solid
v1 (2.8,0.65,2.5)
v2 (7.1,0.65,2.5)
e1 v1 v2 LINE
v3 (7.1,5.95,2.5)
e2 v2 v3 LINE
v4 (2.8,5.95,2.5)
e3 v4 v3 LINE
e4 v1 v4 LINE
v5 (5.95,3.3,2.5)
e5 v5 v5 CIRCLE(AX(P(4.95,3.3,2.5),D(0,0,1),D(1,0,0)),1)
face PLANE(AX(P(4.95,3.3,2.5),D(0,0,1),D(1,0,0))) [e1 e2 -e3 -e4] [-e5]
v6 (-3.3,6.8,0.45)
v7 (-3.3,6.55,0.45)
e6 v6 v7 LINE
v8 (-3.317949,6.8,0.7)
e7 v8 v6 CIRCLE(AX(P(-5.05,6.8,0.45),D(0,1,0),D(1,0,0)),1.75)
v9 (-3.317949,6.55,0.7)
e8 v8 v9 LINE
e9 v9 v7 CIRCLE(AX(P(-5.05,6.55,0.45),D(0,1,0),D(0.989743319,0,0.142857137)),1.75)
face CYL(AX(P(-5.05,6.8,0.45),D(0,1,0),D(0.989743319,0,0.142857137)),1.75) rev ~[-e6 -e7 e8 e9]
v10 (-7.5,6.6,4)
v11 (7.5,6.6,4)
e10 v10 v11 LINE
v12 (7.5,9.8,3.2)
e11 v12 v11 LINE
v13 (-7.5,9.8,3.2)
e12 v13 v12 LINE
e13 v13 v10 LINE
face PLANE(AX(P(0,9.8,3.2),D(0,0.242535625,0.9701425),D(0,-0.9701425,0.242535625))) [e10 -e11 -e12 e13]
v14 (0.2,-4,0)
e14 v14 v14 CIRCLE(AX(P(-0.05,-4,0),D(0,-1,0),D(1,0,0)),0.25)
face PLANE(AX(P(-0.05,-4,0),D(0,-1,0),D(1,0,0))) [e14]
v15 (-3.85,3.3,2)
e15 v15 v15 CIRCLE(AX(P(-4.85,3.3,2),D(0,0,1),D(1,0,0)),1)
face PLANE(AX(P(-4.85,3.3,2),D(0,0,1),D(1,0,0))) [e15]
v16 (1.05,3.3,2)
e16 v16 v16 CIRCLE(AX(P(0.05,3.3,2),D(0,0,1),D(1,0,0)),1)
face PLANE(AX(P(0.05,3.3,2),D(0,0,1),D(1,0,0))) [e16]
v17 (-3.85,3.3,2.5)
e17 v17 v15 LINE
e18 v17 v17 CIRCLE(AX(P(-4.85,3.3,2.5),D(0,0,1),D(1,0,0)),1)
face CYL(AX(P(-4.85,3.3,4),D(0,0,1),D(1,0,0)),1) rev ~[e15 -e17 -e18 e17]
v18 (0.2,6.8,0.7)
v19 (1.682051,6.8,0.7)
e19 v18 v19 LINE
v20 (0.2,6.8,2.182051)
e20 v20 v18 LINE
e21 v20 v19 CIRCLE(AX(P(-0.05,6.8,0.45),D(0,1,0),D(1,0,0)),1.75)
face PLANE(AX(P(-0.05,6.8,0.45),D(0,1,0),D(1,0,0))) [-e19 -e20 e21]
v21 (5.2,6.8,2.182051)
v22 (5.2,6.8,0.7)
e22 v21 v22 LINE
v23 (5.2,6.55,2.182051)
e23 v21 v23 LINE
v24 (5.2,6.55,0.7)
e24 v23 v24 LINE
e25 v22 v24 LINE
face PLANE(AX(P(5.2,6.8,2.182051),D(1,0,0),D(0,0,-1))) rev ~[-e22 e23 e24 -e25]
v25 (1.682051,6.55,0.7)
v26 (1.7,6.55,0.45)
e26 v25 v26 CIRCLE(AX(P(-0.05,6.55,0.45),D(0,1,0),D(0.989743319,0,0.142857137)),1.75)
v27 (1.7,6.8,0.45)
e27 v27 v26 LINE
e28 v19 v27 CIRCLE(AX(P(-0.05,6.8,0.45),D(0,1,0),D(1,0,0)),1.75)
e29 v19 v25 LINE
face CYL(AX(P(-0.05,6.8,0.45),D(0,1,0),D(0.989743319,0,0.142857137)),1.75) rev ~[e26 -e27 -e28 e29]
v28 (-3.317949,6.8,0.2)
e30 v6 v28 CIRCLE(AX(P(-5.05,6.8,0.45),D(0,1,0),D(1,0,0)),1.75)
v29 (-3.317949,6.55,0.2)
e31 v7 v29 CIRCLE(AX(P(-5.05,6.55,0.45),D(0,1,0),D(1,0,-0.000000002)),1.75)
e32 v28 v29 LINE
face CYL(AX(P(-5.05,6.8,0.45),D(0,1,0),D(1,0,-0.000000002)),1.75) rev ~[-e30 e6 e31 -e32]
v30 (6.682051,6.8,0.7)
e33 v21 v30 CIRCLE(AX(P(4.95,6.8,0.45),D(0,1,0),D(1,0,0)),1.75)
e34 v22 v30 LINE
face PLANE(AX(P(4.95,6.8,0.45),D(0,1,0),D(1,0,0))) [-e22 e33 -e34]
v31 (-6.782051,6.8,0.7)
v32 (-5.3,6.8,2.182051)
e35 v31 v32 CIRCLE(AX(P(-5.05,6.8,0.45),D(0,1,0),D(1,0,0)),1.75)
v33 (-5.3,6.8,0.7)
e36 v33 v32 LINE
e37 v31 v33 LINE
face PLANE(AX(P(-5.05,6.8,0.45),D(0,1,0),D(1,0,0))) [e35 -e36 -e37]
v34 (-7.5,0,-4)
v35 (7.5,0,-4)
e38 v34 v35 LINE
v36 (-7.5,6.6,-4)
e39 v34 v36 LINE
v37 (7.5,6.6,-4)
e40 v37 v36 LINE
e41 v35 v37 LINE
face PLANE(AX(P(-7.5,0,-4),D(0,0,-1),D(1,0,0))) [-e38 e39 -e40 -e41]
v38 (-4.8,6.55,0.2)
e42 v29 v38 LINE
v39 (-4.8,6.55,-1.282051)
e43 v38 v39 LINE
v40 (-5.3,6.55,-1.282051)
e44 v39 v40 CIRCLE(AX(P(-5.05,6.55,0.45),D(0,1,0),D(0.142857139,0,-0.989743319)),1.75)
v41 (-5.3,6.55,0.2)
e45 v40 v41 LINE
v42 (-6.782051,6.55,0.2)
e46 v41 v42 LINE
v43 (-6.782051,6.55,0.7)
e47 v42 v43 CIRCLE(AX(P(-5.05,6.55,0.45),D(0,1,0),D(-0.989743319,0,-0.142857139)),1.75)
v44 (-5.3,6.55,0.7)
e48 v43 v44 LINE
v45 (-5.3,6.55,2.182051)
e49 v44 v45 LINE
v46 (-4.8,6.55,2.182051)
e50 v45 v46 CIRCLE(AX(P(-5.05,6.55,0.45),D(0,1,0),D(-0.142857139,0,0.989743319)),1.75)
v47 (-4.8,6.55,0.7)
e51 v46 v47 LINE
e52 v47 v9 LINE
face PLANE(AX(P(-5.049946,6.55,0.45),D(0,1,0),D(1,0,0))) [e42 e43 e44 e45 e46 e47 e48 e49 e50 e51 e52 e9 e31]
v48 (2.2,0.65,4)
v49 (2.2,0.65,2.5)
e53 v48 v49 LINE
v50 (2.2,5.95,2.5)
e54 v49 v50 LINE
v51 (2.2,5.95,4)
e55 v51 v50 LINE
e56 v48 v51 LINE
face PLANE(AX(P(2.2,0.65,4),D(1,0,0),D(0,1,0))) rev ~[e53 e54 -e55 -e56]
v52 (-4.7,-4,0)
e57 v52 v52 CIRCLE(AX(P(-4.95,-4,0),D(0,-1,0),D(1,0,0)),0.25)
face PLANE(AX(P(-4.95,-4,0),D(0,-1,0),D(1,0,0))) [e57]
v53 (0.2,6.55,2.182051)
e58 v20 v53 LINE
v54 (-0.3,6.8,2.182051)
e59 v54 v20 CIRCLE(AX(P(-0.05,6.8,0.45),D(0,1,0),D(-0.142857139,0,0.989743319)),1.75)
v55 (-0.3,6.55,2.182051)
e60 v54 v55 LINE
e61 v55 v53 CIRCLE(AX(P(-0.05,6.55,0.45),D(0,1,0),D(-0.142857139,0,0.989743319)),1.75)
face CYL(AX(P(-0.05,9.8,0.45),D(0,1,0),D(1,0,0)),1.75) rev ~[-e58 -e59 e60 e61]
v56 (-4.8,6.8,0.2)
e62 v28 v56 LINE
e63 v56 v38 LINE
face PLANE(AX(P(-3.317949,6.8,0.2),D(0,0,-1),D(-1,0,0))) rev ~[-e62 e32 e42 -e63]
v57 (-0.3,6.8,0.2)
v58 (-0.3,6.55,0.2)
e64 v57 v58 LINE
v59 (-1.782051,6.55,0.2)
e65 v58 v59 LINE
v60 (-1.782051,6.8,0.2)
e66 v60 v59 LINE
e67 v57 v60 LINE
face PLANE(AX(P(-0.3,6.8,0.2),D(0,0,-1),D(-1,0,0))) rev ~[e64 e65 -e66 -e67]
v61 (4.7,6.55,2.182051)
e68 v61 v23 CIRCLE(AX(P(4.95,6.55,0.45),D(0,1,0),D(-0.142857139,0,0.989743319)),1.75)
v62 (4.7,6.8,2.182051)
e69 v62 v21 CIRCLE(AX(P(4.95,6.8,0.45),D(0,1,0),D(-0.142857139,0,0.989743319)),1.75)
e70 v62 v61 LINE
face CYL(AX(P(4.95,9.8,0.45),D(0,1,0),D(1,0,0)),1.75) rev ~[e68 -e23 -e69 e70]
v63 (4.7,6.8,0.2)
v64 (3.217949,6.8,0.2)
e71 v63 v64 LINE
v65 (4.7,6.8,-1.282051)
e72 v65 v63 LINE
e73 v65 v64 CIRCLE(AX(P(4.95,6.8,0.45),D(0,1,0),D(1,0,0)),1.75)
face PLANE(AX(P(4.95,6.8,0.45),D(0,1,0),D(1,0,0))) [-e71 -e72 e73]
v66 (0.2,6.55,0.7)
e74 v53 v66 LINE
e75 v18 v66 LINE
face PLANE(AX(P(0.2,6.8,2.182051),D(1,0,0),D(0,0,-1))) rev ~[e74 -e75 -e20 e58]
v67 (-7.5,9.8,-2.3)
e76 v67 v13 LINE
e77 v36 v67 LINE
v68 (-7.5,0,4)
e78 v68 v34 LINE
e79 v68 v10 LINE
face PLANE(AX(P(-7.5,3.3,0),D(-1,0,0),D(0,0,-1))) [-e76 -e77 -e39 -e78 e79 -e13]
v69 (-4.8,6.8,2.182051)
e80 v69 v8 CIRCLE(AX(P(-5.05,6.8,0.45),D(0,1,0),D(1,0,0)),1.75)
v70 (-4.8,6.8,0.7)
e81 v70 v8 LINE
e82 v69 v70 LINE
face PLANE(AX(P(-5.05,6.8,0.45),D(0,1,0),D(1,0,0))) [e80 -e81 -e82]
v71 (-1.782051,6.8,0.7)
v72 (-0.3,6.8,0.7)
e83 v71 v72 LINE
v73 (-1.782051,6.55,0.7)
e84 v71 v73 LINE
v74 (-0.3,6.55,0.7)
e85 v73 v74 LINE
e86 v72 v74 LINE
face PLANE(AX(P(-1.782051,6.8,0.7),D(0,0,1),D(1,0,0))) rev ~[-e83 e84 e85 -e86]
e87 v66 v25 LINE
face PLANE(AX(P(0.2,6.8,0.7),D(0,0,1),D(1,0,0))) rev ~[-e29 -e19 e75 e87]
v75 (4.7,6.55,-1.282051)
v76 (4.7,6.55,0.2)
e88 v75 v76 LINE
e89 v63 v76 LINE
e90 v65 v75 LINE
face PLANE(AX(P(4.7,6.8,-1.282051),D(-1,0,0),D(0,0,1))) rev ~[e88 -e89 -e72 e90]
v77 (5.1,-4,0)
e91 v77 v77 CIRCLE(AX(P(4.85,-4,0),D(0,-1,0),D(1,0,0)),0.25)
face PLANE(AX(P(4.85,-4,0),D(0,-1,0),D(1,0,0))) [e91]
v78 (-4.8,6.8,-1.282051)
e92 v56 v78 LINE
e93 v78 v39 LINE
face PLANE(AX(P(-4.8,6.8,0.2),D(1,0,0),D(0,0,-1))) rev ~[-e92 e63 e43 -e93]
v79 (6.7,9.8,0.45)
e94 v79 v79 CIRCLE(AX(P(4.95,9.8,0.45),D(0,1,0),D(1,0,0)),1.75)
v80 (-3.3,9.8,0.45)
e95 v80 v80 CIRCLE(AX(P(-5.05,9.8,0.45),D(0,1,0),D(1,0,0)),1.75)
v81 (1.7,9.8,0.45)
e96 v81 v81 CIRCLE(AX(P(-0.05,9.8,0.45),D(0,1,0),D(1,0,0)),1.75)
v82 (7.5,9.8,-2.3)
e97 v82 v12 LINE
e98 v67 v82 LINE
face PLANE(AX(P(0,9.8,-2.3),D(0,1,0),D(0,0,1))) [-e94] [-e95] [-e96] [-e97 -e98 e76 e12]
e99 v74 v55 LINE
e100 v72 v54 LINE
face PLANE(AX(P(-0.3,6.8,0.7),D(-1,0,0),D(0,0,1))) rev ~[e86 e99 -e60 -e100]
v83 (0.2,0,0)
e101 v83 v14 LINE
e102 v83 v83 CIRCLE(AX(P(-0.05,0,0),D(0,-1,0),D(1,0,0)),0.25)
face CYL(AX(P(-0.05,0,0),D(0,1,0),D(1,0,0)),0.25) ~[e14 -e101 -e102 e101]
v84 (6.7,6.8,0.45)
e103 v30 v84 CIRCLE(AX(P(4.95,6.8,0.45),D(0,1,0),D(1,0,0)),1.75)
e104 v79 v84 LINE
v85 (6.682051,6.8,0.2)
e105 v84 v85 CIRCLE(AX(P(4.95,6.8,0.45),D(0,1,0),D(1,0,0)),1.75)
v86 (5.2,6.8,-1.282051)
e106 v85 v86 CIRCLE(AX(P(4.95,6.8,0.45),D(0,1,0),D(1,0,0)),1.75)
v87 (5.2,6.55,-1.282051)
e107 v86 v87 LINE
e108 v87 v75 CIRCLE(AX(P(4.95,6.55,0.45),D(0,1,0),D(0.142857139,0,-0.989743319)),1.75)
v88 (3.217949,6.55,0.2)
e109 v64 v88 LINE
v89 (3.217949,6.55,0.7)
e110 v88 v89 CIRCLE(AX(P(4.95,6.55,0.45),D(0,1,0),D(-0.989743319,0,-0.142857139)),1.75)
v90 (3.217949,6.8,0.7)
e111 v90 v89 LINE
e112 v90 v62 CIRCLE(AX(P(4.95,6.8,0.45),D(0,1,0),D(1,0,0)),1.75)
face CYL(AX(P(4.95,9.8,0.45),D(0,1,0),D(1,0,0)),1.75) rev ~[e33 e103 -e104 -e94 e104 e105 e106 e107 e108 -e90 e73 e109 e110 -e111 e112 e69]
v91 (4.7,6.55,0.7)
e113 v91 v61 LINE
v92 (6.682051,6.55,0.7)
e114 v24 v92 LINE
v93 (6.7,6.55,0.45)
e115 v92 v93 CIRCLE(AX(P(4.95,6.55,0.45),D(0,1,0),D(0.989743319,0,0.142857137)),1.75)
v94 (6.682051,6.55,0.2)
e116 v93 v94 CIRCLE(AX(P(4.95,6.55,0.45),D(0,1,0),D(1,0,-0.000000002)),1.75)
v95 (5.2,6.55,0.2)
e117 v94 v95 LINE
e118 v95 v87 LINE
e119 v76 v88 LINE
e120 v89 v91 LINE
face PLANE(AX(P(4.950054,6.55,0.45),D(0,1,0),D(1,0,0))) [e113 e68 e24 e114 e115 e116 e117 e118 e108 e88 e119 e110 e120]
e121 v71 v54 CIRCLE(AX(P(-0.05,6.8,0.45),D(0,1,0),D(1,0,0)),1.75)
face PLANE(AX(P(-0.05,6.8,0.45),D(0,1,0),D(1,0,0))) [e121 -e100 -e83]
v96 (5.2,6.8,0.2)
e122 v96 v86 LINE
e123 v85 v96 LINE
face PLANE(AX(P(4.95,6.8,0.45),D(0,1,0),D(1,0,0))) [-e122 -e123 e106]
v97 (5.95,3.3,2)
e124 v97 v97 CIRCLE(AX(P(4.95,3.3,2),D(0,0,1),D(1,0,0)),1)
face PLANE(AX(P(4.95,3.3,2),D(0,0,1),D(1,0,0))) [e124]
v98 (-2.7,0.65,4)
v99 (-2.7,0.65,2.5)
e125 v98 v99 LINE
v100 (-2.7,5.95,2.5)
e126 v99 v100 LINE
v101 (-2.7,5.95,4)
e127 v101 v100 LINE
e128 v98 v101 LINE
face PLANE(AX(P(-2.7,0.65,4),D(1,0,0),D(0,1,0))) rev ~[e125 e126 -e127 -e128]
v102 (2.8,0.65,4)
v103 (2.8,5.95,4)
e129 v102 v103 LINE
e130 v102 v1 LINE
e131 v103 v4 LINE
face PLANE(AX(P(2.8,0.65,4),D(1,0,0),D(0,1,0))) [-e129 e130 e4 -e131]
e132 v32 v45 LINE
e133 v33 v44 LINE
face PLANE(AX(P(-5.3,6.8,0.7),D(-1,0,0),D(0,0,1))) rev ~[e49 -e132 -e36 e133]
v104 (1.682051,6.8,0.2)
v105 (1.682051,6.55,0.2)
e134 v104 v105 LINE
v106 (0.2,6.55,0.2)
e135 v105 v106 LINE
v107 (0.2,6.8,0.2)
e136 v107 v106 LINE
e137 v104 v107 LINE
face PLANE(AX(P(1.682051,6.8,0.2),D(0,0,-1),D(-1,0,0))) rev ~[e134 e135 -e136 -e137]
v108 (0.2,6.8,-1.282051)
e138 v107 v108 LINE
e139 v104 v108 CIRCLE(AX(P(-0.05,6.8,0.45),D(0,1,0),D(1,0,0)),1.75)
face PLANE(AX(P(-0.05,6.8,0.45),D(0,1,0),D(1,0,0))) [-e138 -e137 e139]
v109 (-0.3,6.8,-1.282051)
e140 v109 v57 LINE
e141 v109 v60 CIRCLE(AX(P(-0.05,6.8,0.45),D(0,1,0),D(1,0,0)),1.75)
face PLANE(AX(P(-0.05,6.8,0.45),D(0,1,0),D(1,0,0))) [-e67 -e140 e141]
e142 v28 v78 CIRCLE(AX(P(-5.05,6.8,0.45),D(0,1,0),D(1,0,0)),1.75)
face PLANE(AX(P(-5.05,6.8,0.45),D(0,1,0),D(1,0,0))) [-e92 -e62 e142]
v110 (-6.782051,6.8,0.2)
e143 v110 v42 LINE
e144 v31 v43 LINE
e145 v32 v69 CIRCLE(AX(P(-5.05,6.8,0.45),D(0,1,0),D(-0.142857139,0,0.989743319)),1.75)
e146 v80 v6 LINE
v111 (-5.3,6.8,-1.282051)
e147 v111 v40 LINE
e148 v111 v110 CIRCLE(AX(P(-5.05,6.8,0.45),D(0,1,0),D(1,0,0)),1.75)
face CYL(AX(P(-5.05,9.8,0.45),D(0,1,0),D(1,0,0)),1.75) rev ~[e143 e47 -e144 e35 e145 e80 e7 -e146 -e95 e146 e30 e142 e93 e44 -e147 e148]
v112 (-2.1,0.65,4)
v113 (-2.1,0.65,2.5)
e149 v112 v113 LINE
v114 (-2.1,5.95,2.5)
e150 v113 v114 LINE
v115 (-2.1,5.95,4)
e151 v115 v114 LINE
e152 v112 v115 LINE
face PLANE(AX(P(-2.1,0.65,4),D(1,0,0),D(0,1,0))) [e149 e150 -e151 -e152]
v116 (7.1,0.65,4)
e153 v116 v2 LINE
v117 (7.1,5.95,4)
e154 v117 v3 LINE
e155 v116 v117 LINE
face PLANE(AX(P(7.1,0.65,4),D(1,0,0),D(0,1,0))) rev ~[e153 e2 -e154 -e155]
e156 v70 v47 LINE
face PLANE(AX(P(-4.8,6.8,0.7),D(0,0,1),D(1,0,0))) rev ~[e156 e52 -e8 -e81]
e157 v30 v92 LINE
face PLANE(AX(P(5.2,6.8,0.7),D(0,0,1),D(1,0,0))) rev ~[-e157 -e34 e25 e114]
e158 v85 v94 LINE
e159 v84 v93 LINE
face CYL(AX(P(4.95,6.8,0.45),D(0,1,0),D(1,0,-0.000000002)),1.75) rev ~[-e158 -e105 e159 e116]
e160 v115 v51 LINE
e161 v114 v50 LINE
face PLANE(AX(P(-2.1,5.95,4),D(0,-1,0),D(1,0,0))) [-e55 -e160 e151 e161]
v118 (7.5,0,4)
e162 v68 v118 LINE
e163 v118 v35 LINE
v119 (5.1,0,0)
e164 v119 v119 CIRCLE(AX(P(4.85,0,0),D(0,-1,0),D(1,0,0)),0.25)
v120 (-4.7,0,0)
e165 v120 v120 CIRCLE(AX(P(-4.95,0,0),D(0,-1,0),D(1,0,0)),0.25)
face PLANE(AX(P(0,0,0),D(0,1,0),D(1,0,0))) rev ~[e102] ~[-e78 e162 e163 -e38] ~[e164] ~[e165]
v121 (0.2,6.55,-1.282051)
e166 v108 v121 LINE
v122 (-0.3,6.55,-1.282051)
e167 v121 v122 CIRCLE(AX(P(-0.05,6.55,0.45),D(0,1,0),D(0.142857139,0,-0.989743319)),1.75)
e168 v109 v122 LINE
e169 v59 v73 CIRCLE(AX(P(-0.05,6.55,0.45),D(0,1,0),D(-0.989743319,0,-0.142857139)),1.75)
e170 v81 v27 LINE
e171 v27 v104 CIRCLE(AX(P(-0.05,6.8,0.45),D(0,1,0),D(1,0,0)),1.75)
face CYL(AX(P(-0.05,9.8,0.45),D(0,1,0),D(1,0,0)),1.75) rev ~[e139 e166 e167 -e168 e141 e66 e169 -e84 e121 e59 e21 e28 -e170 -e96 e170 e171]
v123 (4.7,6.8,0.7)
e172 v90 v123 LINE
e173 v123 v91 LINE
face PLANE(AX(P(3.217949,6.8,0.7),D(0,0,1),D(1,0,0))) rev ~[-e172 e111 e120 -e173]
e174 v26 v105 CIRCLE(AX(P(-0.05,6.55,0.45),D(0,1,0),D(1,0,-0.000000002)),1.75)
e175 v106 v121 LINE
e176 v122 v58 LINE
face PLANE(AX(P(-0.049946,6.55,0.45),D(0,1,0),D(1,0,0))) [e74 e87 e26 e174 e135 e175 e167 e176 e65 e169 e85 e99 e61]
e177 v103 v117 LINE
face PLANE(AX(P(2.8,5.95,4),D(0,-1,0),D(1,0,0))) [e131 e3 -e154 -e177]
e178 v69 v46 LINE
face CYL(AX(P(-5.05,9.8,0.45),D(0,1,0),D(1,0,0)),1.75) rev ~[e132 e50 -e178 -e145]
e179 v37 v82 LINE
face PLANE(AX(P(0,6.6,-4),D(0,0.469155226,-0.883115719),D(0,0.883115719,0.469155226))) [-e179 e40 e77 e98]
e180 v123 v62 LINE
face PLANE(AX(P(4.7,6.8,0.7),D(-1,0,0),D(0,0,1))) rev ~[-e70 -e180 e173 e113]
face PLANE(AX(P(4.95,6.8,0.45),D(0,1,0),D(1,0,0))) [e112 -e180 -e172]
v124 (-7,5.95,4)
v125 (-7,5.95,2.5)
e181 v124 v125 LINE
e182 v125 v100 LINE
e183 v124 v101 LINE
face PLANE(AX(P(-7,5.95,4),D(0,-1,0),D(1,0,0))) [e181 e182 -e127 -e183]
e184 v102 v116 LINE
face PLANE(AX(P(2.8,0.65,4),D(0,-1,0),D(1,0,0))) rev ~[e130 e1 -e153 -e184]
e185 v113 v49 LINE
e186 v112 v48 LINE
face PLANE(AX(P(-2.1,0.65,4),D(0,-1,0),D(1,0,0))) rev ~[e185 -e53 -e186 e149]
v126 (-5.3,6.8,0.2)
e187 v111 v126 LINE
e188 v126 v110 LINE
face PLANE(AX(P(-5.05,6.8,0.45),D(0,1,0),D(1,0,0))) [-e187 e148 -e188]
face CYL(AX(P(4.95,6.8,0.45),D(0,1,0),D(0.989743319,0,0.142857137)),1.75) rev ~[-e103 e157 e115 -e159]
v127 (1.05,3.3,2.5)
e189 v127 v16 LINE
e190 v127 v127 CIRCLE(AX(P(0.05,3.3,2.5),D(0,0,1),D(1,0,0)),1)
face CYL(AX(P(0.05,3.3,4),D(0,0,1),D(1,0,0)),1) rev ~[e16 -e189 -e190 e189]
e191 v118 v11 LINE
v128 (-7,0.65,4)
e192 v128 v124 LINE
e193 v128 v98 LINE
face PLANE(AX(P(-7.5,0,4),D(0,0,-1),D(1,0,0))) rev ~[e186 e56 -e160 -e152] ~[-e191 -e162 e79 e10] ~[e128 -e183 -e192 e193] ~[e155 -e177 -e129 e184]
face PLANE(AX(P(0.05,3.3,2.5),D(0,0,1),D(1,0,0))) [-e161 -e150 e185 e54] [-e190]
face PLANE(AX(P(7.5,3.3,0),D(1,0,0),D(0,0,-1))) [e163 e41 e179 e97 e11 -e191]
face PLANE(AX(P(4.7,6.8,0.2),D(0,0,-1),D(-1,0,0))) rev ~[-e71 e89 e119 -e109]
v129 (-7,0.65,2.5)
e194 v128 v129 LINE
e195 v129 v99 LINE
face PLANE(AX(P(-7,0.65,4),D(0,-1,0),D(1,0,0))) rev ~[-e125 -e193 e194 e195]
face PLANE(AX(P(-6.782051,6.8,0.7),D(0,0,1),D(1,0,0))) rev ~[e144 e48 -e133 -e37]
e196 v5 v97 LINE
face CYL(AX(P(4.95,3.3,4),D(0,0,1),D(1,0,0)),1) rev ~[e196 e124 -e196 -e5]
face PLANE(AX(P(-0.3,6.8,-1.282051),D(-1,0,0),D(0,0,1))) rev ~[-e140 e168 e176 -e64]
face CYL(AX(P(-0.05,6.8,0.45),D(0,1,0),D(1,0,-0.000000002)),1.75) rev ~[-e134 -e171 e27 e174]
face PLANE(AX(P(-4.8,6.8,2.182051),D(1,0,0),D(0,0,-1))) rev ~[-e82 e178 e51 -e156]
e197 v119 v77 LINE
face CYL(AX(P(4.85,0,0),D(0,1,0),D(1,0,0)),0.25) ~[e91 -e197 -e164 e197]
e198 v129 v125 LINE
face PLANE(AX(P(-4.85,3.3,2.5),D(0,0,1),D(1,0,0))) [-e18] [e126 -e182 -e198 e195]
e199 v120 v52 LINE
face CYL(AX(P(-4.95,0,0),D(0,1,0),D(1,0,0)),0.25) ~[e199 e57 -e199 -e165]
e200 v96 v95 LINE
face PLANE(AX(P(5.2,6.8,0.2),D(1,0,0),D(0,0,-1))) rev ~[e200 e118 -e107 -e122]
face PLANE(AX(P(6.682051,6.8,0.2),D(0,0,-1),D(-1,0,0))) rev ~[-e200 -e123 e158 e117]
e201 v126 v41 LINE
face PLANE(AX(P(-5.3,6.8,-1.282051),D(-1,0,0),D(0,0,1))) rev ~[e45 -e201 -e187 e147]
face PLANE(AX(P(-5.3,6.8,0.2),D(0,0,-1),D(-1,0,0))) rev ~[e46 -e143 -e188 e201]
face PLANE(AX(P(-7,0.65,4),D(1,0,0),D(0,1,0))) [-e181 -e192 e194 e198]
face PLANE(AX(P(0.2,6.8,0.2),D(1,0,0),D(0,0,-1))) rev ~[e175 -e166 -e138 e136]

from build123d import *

# Parameters (mm, degrees)
CROQUIS1_W                          = 15
CROQUIS1_H                          = 8
SALIENTE_EXTRUIR1_DEPTH             = 6.6
SALIENTE_EXTRUIR2_REACH             = 12.762
SALIENTE_EXTRUIR2_DIRECTION_2_REACH = 12.762
CROQUIS3_R                          = 1.75
CORTAR_EXTRUIR1_DEPTH               = 3
CORTAR_EXTRUIR2_DEPTH               = 0.25
MATRIZL1_COUNT                      = 3
MATRIZL1_PITCH                      = 5
CROQUIS5_R                          = 0.25
SALIENTE_EXTRUIR3_DEPTH             = 4
MATRIZL2_COUNT                      = 3
MATRIZL2_PITCH                      = 4.9
CROQUIS6_W                          = 4.3
CROQUIS6_H                          = 5.3
CROQUIS6_R                          = 1
CORTAR_EXTRUIR3_DEPTH               = 1.5
CROQUIS6_2_R                        = 1
CORTAR_EXTRUIR4_DEPTH               = 2
MATRIZL3_COUNT                      = 3
MATRIZL3_PITCH                      = 4.9


with BuildPart() as part:
    # Croquis1 → Saliente-Extruir1 (new body)
    with BuildSketch(Plane(origin=(0, 0, 0), x_dir=(1, 0, 0), z_dir=(0, 1, 0))):
        Rectangle(CROQUIS1_W, CROQUIS1_H)
    extrude(amount=SALIENTE_EXTRUIR1_DEPTH)

    # Saliente-Extruir2: up to this face of the body (flat: up to its plane)
    saliente_extruir2_end = Plane(part.part.faces().sort_by_distance((7.5, 3.3, 0))[0])
    # Croquis2 → Saliente-Extruir2 (add, up to the picked face)
    with BuildSketch(Plane(origin=(0, 0, 0), x_dir=(0, 0, -1), z_dir=(1, 0, 0)), mode=Mode.PRIVATE) as saliente_extruir2_sk1:
        Polygon((-4, 6.6), (4, 6.6), (2.3, 9.8), (-3.2, 9.8), align=None)
    saliente_extruir2_tool1 = split(extrude(saliente_extruir2_sk1.sketch, amount=SALIENTE_EXTRUIR2_REACH, mode=Mode.PRIVATE), bisect_by=saliente_extruir2_end, keep=Keep.BOTH, mode=Mode.PRIVATE)
    add(saliente_extruir2_tool1.solids().sort_by(Axis((0, 8.101235, 0.211111), (1, 0, 0)))[0])

    # Saliente-Extruir2 direction 2: up to this face of the body (flat: up to its plane)
    saliente_extruir2_direction_2_end = Plane(part.part.faces().sort_by_distance((-7.5, 3.3, 0))[0])
    # Croquis2 → Saliente-Extruir2 direction 2 (add, up to the picked face)
    with BuildSketch(Plane(origin=(0, 0, 0), x_dir=(0, 0, -1), z_dir=(1, 0, 0)), mode=Mode.PRIVATE) as saliente_extruir2_direction_2_sk1:
        Polygon((-4, 6.6), (4, 6.6), (2.3, 9.8), (-3.2, 9.8), align=None)
    saliente_extruir2_direction_2_tool1 = split(extrude(saliente_extruir2_direction_2_sk1.sketch, amount=-SALIENTE_EXTRUIR2_DIRECTION_2_REACH, mode=Mode.PRIVATE), bisect_by=saliente_extruir2_direction_2_end, keep=Keep.BOTH, mode=Mode.PRIVATE)
    add(saliente_extruir2_direction_2_tool1.solids().sort_by(Axis((0, 8.101235, 0.211111), (-1, 0, 0)))[0])

    # Croquis3 → Cortar-Extruir1 (cut)
    with BuildSketch(Plane(origin=(0, 9.8, 0), x_dir=(1, 0, 0), z_dir=(0, 1, 0))):
        with Locations((-5.05, -0.45)):
            Circle(CROQUIS3_R)
    cortar_extruir1 = extrude(amount=-CORTAR_EXTRUIR1_DEPTH, mode=Mode.SUBTRACT)

    # Croquis4 → Cortar-Extruir2 (cut)
    with BuildSketch(Plane(origin=(0, 6.8, 0), x_dir=(1, 0, 0), z_dir=(0, 1, 0))):
        with BuildLine():
            ThreePointArc((-5.3, -2.182050808), (-5.05, -2.2), (-4.8, -2.182050808))
            Line((-4.8, -2.182050808), (-4.8, -0.7))
            Line((-4.8, -0.7), (-3.317949192, -0.7))
            ThreePointArc((-3.317949192, -0.7), (-3.304493066, -0.575321759), (-3.3, -0.45))
            ThreePointArc((-3.3, -0.45), (-3.304493066, -0.324678241), (-3.317949192, -0.2))
            Line((-3.317949192, -0.2), (-4.8, -0.2))
            Line((-4.8, -0.2), (-4.8, 1.282050808))
            ThreePointArc((-4.8, 1.282050808), (-5.05, 1.3), (-5.3, 1.282050808))
            Line((-5.3, 1.282050808), (-5.3, -0.2))
            Line((-5.3, -0.2), (-6.782050808, -0.2))
            ThreePointArc((-6.782050808, -0.2), (-6.8, -0.45), (-6.782050808, -0.7))
            Line((-6.782050808, -0.7), (-5.3, -0.7))
            Line((-5.3, -0.7), (-5.3, -2.182050808))
        make_face()
    cortar_extruir2 = extrude(amount=-CORTAR_EXTRUIR2_DEPTH, mode=Mode.SUBTRACT)

    # MatrizL1: Cortar-Extruir1, Cortar-Extruir2 ×3
    with Locations(*[(i * MATRIZL1_PITCH, 0, 0) for i in range(1, MATRIZL1_COUNT)]):
        add(cortar_extruir1, mode=Mode.SUBTRACT)
        add(cortar_extruir2, mode=Mode.SUBTRACT)

    # Croquis5 → Saliente-Extruir3 (add)
    with BuildSketch(Plane.XZ):
        with Locations((-4.95, 0)):
            Circle(CROQUIS5_R)
    saliente_extruir3 = extrude(amount=SALIENTE_EXTRUIR3_DEPTH)

    # MatrizL2: Saliente-Extruir3 ×3
    with Locations(*[(i * MATRIZL2_PITCH, 0, 0) for i in range(1, MATRIZL2_COUNT)]):
        add(saliente_extruir3)

    # Croquis6 → Cortar-Extruir3 (cut)
    with BuildSketch(Plane.XY.offset(4)):
        with Locations((-4.85, 3.3)):
            Rectangle(CROQUIS6_W, CROQUIS6_H)
        with Locations((-4.85, 3.3)):
            Circle(CROQUIS6_R, mode=Mode.SUBTRACT)
    cortar_extruir3 = extrude(amount=-CORTAR_EXTRUIR3_DEPTH, mode=Mode.SUBTRACT)

    # Croquis6<2> → Cortar-Extruir4 (cut)
    with BuildSketch(Plane.XY.offset(4)):
        with Locations((-4.85, 3.3)):
            Circle(CROQUIS6_2_R)
    cortar_extruir4 = extrude(amount=-CORTAR_EXTRUIR4_DEPTH, mode=Mode.SUBTRACT)

    # MatrizL3: Cortar-Extruir3, Cortar-Extruir4 ×3
    with Locations(*[(i * MATRIZL3_PITCH, 0, 0) for i in range(1, MATRIZL3_COUNT)]):
        add(cortar_extruir3, mode=Mode.SUBTRACT)
        add(cortar_extruir4, mode=Mode.SUBTRACT)


solid = part.part
